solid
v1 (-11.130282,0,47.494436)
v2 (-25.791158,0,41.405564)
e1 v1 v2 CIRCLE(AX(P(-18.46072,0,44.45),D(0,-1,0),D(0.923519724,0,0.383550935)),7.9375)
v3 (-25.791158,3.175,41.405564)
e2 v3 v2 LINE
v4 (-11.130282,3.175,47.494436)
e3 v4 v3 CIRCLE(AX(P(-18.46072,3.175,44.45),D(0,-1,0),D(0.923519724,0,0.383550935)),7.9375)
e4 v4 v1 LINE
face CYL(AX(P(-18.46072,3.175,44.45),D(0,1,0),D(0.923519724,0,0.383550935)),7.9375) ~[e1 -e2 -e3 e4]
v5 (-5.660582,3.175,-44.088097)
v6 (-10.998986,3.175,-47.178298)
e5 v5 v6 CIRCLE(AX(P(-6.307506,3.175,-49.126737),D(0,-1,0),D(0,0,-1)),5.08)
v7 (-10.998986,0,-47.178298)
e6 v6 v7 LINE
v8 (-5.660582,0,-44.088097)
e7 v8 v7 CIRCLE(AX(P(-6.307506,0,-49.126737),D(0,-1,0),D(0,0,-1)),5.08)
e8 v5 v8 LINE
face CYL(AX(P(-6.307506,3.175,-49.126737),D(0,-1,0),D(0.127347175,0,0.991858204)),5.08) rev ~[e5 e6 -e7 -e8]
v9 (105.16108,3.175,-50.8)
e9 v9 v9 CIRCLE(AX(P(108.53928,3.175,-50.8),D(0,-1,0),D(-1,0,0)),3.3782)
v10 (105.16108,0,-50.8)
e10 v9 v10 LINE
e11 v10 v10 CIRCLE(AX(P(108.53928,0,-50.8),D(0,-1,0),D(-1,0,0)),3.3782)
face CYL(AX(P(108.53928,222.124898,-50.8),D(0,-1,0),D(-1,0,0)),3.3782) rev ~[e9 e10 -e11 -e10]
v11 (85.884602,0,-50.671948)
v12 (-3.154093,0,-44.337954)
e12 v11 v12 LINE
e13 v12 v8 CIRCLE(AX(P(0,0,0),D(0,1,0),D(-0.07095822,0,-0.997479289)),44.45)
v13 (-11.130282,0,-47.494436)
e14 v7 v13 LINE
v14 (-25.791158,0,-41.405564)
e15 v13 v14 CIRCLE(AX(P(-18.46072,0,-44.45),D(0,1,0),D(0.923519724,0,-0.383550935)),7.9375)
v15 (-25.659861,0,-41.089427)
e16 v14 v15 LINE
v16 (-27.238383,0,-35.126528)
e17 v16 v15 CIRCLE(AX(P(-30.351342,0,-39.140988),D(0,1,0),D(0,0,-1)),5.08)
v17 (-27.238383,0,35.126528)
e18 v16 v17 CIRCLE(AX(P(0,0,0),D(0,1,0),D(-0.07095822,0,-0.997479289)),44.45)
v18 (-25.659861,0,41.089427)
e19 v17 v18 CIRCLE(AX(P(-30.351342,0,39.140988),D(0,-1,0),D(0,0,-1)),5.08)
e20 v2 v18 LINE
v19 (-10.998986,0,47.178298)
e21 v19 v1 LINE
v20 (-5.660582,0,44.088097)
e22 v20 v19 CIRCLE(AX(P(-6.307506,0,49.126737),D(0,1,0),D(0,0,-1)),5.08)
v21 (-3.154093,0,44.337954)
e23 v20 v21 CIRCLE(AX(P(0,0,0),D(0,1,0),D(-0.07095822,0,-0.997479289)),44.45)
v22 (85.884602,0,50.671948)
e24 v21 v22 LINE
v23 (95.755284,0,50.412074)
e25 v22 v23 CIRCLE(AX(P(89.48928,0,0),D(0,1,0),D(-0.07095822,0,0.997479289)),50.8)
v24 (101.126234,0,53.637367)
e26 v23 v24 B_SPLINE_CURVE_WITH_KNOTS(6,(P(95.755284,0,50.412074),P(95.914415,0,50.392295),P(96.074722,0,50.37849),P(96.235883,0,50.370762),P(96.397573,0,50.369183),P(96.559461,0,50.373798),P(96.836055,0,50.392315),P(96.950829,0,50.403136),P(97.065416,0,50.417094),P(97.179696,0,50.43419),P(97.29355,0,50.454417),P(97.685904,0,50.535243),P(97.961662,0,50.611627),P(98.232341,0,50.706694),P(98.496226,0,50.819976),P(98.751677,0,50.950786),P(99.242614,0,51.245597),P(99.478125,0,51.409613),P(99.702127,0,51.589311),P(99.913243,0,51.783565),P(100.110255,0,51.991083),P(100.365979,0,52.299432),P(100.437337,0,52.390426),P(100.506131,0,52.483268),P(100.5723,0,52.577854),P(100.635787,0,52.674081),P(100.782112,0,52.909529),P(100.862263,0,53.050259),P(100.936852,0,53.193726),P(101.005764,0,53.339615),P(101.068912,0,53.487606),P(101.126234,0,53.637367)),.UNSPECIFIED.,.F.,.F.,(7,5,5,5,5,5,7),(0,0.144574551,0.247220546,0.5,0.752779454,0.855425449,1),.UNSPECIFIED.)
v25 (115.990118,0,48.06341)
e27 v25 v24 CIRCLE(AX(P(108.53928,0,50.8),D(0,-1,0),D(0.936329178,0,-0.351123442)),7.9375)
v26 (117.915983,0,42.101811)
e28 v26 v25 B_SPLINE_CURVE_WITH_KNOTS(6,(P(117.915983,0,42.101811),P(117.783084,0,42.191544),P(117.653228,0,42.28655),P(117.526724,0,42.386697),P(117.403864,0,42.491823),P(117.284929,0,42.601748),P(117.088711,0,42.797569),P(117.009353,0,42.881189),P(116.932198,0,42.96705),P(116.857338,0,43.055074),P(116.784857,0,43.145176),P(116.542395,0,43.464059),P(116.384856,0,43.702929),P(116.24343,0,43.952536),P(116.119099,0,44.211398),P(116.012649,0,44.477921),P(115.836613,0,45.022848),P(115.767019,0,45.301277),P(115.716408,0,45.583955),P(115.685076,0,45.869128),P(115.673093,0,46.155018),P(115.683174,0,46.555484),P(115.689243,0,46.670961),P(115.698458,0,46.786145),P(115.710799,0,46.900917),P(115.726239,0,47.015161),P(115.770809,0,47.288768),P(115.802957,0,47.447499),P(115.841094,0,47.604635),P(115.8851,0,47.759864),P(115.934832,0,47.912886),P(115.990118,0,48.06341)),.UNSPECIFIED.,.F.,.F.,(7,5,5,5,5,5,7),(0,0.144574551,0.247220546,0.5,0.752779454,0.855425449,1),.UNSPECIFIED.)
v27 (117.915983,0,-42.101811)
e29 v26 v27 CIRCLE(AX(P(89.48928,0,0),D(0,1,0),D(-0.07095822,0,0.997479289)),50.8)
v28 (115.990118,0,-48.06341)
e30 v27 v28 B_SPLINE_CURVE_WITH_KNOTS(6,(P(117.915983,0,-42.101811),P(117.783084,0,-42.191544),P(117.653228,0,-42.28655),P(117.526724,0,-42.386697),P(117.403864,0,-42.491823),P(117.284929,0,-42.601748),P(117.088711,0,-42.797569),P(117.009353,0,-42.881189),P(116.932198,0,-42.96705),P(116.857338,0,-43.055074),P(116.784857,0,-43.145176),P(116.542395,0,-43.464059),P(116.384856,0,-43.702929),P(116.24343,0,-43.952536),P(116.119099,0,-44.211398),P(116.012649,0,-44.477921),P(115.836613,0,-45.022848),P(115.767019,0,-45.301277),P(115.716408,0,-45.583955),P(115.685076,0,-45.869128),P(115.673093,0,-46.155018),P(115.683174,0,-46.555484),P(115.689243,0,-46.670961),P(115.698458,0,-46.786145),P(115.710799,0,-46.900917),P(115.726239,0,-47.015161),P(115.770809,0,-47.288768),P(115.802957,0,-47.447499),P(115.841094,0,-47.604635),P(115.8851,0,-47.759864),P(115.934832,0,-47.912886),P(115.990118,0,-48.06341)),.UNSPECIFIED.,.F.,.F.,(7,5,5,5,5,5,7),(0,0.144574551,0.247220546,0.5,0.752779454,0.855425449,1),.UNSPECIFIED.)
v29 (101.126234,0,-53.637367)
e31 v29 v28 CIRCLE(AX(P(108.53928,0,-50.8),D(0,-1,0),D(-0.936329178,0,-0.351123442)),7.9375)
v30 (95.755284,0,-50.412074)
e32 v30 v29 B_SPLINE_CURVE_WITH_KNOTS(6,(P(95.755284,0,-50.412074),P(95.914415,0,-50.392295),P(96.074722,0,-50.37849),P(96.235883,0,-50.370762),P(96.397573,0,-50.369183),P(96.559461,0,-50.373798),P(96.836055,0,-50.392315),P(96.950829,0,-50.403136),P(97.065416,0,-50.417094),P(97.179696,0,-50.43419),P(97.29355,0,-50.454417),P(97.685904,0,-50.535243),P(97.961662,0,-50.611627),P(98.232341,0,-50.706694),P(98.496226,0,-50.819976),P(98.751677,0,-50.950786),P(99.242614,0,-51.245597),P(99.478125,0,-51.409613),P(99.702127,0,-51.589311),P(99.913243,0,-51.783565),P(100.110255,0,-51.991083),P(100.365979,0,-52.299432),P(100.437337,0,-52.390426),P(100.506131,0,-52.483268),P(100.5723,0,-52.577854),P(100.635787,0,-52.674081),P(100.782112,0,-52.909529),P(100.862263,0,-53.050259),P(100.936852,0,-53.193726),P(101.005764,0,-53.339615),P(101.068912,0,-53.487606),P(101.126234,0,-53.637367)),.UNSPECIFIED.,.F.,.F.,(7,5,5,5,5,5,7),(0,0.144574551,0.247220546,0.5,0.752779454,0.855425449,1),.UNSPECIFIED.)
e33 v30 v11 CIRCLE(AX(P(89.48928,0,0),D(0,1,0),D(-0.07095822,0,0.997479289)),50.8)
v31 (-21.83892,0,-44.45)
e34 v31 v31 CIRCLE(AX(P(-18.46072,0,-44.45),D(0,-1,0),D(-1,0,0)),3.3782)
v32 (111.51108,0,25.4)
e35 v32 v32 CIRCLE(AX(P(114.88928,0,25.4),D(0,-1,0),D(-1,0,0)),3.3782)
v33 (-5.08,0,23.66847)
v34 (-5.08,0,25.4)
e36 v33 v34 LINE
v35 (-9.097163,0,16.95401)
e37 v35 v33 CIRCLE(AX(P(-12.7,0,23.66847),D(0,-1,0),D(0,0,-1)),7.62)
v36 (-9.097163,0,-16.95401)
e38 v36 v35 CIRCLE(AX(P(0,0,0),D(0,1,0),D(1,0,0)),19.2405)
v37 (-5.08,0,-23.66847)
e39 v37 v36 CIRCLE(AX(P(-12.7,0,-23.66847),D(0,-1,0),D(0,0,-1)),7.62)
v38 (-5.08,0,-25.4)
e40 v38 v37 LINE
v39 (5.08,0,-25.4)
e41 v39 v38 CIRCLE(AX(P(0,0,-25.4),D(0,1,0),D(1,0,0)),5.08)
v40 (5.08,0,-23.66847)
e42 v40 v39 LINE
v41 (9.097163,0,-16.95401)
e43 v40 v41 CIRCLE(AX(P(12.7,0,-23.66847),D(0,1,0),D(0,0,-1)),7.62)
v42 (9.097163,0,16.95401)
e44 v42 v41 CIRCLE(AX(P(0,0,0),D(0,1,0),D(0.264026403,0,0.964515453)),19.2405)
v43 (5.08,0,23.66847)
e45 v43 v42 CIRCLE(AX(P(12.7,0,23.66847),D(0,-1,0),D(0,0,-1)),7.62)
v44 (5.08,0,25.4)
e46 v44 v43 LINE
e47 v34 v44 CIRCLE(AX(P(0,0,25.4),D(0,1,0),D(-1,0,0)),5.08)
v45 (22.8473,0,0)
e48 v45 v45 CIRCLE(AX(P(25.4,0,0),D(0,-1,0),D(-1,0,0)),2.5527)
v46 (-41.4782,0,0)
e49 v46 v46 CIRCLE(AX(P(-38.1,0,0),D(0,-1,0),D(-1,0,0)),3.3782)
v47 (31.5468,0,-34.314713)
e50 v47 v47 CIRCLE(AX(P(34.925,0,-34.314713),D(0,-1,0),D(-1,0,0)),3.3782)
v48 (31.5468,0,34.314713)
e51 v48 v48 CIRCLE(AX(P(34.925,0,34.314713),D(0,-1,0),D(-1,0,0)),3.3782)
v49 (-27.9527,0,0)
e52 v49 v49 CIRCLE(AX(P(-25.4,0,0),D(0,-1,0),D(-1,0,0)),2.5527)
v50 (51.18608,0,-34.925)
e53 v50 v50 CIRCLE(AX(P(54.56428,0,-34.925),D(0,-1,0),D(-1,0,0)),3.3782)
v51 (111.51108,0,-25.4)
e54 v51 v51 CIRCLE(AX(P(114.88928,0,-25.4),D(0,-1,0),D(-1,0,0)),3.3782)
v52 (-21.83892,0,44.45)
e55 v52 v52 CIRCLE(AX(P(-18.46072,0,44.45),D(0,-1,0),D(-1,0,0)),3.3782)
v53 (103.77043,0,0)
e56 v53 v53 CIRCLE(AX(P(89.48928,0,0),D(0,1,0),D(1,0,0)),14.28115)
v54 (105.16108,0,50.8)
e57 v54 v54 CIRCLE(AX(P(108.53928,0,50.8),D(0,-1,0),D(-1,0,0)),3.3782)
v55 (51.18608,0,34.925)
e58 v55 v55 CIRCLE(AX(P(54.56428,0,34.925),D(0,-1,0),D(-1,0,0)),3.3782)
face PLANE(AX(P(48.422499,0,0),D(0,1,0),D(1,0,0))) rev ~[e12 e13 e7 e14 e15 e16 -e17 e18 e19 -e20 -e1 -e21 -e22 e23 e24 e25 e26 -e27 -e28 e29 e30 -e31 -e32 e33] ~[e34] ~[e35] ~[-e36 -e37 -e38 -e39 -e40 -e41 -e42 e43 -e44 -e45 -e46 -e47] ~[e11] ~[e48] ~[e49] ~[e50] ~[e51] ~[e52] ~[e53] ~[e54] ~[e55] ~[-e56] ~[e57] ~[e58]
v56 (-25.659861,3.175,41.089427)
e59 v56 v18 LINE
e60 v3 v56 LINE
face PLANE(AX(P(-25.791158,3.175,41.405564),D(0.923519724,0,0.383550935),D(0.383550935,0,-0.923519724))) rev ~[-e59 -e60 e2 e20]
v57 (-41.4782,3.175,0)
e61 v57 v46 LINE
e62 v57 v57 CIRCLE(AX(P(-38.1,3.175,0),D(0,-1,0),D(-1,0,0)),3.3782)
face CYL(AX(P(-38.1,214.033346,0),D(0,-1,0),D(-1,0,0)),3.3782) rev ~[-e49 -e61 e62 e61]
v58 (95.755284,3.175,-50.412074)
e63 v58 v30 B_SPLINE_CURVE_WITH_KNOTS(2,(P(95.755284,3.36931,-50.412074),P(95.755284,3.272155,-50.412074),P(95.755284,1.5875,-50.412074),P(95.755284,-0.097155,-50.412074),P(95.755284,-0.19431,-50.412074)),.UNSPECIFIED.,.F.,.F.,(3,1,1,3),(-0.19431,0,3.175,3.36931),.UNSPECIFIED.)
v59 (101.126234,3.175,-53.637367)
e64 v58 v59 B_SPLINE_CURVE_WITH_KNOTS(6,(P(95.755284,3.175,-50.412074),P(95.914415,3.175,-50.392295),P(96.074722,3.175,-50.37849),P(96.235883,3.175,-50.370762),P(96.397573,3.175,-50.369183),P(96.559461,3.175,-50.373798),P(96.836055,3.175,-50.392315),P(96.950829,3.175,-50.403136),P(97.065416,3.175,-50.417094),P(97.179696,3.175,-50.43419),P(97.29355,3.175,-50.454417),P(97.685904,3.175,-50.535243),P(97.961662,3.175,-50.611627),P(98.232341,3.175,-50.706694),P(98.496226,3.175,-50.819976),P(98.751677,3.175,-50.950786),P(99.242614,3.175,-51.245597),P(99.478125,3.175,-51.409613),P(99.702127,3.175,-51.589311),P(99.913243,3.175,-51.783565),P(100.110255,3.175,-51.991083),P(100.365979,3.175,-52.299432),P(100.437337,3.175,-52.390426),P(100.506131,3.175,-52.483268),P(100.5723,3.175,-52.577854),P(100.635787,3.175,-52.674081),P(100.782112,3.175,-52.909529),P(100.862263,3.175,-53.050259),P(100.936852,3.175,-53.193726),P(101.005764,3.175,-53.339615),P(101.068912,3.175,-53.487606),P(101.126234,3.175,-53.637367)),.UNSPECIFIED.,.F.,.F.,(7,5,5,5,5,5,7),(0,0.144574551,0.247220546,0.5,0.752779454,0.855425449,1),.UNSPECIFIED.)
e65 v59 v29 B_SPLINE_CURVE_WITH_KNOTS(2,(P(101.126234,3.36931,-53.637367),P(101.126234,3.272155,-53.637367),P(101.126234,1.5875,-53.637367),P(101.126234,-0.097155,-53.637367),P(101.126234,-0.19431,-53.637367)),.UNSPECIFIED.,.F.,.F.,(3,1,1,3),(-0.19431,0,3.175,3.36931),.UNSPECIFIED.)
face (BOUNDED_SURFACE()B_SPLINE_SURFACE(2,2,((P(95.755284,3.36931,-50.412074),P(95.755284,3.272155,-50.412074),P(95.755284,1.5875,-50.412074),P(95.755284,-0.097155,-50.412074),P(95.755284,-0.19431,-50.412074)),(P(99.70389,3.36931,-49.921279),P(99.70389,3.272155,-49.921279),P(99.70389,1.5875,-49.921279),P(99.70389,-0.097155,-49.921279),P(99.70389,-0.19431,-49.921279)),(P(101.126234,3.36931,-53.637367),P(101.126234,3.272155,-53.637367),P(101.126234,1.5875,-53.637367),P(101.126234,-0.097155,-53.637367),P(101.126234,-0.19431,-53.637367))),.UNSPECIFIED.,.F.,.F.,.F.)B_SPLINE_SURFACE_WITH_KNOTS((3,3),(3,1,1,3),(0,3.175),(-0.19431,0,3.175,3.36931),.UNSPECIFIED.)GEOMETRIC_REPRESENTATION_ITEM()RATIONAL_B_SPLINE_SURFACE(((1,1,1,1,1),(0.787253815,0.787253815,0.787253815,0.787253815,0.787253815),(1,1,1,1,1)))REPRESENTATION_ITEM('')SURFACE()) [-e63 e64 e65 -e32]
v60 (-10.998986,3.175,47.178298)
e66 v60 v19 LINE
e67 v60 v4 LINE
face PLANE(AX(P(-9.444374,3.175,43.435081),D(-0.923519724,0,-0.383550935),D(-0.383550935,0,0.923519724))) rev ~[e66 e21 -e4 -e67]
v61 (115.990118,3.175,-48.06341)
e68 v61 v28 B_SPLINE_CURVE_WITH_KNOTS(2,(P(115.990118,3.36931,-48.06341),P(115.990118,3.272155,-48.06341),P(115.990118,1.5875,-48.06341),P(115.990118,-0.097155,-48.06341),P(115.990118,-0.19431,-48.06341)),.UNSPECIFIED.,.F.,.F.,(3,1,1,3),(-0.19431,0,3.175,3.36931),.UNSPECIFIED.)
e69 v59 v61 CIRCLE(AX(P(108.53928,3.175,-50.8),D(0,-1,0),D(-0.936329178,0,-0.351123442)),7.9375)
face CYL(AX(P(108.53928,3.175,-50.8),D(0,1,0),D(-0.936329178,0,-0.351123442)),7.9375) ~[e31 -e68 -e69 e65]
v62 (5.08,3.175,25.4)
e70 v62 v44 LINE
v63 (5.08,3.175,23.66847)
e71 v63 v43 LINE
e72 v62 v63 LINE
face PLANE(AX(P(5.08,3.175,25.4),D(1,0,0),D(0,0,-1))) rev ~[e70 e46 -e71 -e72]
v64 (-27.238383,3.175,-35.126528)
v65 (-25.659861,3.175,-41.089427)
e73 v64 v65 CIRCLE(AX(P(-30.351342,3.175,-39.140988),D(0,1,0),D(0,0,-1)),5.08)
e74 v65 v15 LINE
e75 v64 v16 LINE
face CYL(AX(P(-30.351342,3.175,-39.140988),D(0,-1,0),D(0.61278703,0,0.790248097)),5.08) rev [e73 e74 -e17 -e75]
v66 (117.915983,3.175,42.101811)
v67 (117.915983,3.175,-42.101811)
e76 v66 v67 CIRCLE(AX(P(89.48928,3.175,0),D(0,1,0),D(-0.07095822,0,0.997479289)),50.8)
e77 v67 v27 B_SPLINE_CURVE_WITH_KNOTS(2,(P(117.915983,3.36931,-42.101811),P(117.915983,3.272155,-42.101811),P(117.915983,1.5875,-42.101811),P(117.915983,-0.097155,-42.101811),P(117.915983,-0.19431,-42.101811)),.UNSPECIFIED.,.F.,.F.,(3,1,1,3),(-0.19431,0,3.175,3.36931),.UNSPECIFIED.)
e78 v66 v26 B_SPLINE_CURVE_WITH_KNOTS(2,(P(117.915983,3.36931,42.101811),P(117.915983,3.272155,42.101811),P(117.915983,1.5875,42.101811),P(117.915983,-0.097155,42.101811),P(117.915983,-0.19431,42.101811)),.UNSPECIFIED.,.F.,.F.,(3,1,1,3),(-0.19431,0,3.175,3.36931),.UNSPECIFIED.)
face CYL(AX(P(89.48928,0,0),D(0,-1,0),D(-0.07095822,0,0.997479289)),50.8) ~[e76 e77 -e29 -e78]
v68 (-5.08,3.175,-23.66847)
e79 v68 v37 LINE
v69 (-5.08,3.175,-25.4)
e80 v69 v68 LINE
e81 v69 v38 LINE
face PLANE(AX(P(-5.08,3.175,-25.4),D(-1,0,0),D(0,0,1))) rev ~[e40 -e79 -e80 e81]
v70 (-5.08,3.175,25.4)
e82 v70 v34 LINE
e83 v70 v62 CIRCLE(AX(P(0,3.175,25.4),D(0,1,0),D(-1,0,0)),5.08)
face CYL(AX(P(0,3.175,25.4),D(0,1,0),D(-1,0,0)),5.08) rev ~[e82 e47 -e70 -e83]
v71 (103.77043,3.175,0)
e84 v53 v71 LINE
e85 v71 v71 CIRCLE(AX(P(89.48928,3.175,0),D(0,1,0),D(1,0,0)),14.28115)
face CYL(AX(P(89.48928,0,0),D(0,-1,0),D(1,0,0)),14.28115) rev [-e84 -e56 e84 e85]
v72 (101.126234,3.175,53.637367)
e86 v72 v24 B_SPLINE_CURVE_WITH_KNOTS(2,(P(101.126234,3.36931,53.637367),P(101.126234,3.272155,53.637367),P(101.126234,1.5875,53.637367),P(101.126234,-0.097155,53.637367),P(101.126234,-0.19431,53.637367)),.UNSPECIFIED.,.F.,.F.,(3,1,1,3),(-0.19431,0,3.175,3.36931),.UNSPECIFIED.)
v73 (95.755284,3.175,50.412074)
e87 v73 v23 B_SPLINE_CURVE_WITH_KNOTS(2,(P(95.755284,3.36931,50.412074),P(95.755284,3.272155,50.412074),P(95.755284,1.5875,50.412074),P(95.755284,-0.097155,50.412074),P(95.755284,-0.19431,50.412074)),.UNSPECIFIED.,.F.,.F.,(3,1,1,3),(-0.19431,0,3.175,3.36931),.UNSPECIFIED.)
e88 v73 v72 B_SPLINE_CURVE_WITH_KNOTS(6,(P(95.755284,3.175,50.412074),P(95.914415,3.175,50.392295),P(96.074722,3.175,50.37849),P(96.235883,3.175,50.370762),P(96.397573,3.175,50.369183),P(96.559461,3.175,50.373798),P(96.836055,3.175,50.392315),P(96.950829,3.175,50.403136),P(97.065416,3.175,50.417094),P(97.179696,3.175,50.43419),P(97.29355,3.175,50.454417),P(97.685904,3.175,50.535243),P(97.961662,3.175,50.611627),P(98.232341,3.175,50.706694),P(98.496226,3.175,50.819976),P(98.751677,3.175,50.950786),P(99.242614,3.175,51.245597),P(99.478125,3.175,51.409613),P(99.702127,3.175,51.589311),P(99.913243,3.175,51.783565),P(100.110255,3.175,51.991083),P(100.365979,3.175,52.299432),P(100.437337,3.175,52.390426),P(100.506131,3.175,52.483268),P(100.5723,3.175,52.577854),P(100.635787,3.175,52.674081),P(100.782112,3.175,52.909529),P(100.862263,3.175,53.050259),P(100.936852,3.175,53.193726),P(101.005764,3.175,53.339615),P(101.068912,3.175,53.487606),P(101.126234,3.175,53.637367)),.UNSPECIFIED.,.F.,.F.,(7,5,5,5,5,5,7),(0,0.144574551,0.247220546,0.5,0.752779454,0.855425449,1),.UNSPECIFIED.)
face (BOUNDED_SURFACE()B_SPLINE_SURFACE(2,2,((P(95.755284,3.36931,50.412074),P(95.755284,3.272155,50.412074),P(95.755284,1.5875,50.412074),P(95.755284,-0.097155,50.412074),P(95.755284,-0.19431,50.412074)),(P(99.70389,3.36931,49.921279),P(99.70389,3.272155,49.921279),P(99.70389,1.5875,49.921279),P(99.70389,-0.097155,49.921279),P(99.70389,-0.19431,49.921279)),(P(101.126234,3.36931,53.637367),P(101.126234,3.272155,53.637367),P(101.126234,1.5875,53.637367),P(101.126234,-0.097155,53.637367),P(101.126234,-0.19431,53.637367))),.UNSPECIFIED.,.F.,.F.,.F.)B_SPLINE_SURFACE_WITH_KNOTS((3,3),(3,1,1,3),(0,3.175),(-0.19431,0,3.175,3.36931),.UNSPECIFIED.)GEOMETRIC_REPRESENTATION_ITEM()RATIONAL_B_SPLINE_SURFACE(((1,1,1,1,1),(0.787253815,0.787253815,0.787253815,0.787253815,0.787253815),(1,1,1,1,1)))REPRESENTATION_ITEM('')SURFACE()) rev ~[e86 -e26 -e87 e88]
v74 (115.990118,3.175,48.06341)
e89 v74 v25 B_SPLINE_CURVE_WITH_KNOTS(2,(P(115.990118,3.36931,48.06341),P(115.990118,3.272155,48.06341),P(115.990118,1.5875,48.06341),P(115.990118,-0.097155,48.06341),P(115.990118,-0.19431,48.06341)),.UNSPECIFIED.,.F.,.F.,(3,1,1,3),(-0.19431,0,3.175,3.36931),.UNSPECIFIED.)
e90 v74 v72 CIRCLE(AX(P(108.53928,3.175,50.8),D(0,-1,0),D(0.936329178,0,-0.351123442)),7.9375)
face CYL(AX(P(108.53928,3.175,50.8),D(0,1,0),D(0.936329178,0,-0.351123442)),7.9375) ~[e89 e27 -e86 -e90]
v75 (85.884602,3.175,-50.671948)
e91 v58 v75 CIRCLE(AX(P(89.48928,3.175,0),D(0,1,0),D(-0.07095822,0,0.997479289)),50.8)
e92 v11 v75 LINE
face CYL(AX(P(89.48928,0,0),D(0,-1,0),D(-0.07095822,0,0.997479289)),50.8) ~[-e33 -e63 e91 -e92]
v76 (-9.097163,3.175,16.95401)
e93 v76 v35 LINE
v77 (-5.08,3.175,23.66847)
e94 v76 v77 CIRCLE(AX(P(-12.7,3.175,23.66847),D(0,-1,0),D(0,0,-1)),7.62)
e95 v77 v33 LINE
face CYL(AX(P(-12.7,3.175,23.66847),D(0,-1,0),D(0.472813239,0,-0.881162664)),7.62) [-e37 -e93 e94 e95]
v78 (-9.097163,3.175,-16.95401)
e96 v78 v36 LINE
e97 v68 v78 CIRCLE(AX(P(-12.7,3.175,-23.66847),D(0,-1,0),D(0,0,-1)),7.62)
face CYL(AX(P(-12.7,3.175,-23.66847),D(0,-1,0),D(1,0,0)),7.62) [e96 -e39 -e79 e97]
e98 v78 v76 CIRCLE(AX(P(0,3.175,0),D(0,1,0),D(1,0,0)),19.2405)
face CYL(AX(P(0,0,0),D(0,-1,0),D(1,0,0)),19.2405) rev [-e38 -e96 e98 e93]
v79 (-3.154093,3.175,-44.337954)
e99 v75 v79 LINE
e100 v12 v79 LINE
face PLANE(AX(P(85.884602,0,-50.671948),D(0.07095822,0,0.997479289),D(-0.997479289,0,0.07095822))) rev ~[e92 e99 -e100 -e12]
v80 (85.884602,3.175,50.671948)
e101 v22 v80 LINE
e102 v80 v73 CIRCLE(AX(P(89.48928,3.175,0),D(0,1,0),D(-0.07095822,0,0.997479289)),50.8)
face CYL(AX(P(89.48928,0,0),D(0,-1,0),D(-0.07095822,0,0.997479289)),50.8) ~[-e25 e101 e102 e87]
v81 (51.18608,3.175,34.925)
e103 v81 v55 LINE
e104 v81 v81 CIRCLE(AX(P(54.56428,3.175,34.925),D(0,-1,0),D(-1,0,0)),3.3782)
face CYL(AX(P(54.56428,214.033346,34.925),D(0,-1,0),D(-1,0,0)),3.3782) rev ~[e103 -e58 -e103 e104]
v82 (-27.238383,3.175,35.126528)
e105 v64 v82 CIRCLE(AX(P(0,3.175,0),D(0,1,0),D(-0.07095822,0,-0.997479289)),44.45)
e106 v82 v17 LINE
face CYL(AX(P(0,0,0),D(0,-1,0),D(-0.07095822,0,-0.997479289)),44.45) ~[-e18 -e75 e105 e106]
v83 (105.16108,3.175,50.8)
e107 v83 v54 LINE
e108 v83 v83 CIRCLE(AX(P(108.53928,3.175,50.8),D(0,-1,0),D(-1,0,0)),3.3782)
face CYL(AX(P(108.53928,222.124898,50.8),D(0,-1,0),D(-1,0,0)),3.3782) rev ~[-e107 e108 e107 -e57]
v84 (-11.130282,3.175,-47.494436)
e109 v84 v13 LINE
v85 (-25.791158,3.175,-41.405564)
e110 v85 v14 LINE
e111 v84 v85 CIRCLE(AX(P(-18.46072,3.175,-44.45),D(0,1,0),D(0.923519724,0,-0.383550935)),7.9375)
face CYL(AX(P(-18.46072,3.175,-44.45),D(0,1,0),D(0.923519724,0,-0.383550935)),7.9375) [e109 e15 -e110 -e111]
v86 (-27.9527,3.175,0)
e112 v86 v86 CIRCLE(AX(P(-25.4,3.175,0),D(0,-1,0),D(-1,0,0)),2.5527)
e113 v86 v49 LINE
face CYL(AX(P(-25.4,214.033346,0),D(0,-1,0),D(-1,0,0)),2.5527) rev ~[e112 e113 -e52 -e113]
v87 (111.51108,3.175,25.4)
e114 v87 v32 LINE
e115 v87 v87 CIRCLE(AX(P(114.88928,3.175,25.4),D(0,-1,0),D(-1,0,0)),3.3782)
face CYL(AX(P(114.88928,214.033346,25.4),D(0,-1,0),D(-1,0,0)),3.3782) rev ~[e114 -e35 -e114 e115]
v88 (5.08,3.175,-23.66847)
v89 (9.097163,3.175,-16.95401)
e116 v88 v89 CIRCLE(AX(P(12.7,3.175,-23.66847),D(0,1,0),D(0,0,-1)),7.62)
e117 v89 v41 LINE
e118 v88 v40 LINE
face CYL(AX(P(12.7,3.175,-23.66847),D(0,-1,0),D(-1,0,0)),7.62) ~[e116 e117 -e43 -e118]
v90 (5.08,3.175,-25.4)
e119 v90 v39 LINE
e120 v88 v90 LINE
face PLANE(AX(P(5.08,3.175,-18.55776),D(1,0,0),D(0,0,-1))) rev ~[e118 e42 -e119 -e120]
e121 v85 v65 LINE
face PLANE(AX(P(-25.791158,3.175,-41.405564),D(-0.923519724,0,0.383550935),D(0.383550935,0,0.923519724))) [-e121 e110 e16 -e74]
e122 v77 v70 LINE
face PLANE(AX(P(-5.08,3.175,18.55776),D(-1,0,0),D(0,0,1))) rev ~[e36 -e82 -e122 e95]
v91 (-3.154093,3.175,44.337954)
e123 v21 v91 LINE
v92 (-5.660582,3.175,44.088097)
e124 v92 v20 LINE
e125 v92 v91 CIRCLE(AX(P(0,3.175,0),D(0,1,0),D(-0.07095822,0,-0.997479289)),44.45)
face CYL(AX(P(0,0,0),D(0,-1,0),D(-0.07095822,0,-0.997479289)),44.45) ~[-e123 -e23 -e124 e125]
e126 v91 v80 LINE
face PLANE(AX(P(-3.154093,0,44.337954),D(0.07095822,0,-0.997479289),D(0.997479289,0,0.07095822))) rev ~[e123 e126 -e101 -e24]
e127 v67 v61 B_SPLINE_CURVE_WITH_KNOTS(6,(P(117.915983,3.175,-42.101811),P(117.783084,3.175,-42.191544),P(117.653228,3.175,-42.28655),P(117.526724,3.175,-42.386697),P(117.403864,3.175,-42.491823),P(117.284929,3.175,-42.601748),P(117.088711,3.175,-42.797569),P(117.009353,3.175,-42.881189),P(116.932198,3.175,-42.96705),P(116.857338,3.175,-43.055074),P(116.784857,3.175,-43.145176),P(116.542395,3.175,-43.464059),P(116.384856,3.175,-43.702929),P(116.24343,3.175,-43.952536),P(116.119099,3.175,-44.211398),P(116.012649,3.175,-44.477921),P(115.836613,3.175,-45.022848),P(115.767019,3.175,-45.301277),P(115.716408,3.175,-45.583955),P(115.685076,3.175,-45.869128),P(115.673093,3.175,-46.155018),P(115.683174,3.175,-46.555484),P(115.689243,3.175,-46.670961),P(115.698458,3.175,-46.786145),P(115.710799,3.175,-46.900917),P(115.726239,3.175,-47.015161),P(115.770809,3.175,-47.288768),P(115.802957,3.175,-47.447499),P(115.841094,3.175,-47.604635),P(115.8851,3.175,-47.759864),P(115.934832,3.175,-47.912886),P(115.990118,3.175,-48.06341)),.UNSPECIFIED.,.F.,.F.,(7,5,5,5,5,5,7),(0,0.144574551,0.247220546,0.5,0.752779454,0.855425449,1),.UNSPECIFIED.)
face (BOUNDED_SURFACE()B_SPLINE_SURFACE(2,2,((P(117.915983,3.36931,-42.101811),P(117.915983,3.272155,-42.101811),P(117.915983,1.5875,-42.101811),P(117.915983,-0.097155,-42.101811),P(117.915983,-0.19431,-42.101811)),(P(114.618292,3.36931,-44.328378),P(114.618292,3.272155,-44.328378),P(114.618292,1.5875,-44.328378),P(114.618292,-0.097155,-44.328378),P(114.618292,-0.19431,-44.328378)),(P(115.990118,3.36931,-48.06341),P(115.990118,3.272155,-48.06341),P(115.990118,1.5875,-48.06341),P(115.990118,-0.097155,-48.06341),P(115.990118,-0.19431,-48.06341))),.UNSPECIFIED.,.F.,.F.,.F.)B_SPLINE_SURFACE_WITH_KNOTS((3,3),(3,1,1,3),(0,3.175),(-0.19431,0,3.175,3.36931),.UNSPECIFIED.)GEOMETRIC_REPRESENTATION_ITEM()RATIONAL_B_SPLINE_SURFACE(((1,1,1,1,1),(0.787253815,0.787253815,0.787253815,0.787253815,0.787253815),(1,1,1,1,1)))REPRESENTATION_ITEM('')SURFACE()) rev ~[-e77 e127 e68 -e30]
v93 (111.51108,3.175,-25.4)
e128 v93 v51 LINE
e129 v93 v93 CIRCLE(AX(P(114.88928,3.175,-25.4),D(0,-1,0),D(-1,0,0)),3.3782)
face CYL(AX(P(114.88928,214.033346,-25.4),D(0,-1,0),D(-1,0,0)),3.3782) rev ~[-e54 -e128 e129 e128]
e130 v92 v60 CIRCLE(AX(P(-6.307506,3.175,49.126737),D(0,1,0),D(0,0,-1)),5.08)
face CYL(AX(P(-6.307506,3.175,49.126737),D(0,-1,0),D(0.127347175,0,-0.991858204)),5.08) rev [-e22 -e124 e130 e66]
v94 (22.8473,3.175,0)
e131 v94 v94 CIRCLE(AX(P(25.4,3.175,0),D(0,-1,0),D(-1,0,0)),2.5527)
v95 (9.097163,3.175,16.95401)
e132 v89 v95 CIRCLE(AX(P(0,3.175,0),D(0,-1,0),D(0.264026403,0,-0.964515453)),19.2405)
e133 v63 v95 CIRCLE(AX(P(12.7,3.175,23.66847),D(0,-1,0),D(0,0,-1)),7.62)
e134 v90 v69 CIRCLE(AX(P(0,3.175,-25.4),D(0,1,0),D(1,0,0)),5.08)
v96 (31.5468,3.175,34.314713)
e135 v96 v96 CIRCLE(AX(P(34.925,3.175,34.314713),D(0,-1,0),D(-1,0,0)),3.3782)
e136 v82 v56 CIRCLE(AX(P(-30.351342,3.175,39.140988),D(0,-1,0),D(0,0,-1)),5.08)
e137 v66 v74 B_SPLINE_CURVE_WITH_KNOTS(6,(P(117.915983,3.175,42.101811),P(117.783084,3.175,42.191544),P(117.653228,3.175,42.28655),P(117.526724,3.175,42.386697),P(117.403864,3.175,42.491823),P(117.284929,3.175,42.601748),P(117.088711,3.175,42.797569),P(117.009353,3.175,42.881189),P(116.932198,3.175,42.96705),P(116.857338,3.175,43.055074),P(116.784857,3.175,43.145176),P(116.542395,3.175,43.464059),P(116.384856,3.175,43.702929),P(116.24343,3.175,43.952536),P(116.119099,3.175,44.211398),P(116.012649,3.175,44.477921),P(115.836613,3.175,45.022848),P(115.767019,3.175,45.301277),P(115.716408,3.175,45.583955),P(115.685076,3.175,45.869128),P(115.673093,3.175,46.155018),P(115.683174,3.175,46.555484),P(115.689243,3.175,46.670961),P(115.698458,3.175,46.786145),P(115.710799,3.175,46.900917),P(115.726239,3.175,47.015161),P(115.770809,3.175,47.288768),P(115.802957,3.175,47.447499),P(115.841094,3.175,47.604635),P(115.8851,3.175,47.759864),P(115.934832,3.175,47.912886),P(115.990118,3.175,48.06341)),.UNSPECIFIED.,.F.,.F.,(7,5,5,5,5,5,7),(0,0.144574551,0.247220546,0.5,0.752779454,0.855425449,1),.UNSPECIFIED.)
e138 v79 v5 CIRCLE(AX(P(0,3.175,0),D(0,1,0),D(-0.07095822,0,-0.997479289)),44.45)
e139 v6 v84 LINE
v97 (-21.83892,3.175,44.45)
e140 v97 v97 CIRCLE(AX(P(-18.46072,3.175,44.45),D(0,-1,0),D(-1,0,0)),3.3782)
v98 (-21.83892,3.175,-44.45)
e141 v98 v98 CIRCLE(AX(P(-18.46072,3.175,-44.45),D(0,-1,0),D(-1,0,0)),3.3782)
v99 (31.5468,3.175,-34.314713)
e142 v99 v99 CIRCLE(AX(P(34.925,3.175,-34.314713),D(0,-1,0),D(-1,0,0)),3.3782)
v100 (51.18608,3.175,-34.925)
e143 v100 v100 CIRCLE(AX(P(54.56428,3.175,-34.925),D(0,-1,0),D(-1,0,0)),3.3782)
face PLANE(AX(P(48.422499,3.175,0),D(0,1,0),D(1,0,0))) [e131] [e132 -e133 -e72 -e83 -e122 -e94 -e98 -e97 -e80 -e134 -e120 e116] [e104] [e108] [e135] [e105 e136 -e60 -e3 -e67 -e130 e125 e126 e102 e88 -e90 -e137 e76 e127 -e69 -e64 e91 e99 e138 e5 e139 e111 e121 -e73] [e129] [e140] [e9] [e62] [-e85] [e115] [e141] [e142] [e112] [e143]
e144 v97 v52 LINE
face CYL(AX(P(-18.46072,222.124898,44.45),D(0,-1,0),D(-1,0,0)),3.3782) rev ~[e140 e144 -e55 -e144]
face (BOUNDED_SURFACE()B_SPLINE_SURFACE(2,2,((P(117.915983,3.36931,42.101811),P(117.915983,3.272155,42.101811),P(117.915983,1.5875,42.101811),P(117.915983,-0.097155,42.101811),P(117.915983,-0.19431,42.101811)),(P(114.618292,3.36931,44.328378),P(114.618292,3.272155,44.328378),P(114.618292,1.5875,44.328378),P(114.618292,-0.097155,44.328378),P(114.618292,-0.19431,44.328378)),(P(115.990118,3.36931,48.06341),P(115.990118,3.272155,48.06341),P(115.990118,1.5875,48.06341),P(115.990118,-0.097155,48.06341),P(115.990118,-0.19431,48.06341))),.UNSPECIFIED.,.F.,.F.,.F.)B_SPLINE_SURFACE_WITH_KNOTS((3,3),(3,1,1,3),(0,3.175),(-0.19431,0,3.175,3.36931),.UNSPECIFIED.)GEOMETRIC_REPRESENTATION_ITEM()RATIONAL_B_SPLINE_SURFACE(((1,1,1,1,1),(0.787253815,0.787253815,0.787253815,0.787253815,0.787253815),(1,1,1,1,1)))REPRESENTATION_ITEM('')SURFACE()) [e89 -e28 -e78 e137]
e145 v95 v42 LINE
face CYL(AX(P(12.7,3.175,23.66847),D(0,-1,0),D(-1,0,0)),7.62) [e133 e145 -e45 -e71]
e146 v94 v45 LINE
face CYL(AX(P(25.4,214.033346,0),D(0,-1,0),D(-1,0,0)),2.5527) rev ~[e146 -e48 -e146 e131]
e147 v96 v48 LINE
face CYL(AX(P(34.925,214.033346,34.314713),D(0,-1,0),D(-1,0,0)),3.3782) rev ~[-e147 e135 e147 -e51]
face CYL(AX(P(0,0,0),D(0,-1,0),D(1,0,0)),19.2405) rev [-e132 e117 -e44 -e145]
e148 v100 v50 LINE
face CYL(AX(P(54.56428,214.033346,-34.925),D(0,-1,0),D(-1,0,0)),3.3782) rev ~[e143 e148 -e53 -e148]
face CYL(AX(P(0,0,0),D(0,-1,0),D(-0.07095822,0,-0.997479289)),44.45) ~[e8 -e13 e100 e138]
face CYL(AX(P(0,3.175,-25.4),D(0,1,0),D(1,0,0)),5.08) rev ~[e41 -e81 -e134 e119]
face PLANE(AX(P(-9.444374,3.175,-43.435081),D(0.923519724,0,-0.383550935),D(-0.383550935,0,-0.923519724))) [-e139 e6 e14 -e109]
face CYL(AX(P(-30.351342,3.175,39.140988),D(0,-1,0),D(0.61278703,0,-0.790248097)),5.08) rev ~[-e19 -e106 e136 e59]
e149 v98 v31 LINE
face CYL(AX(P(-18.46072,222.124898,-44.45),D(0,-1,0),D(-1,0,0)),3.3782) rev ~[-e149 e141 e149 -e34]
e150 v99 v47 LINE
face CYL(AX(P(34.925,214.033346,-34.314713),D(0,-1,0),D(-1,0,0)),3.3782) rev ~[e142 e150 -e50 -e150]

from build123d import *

# Parameters (mm, degrees)
SKETCH1_R               = 14.28115
SKETCH1_R_2             = 19.2405
BOSS_EXTRUDE1_DEPTH     = 3.175
F_10_CLEARANCE_HOLE1_D  = 5.1054
F_1_4_CLEARANCE_HOLE1_D = 6.7564
SKETCH6_R               = 2.5527
CUT_EXTRUDE1_DEPTH      = 4.175
FILLET1_R               = 7.62
BOSS_EXTRUDE3_DEPTH     = 3.175
FILLET2_R               = 5.08
F_1_4_CLEARANCE_HOLE2_D = 6.7564


with BuildPart() as part:
    # Sketch1 → Boss-Extrude1 (new body)
    with BuildSketch(Plane(origin=(0, 0, 0), x_dir=(1, 0, 0), z_dir=(0, 1, 0))):
        with BuildLine():
            Line((85.884602434, 50.671947857), (-3.15409287, 44.337954375))
            ThreePointArc((-3.15409287, 44.337954375), (-44.45, 0), (-3.15409287, -44.337954375))
            Line((-3.15409287, -44.337954375), (85.884602434, -50.671947857))
            ThreePointArc((85.884602434, -50.671947857), (140.28928, 0), (85.884602434, 50.671947857))
        make_face()
        with Locations((89.48928, 0)):
            Circle(SKETCH1_R, mode=Mode.SUBTRACT)
        Circle(SKETCH1_R_2, mode=Mode.SUBTRACT)
    extrude(amount=BOSS_EXTRUDE1_DEPTH)

    # #10 Clearance Hole1 (through all)
    with Locations(Plane(origin=(0, 3.175, 0), x_dir=(1, 0, 0), z_dir=(0, 1, 0))):
        with Locations((0, 25.4), (25.4, 0), (0, -25.4), (-25.4, 0)):
            Hole(F_10_CLEARANCE_HOLE1_D / 2)

    # 1/4 Clearance Hole1 (through all)
    with Locations(Plane(origin=(0, 3.175, 0), x_dir=(1, 0, 0), z_dir=(0, 1, 0))):
        with Locations((54.56428, 34.925), (54.56428, -34.925), (114.88928, 25.4), (114.88928, -25.4), (-38.1, 0), (34.925, -34.314713318), (34.925, 34.314713318)):
            Hole(F_1_4_CLEARANCE_HOLE1_D / 2)

    # Sketch6 → Cut-Extrude1 (cut, through all)
    with BuildSketch(Plane(origin=(0, 3.175, 0), x_dir=(1, 0, 0), z_dir=(0, 1, 0))):
        with BuildLine():
            Line((5.08, 18.55775957), (5.08, 25.4))
            ThreePointArc((5.08, 25.4), (0, 30.48), (-5.08, 25.4))
            Line((-5.08, 25.4), (-5.08, 18.55775957))
            ThreePointArc((-5.08, 18.55775957), (0, 19.2405), (5.08, 18.55775957))
        make_face()
        with Locations((0, 25.4)):
            Circle(SKETCH6_R, mode=Mode.SUBTRACT)
        with BuildLine():
            ThreePointArc((5.08, -18.55775957), (0, -19.2405), (-5.08, -18.55775957))
            Line((-5.08, -18.55775957), (-5.08, -25.4))
            ThreePointArc((-5.08, -25.4), (0, -30.48), (5.08, -25.4))
            Line((5.08, -25.4), (5.08, -18.55775957))
        make_face()
        with Locations((0, -25.4)):
            Circle(SKETCH6_R, mode=Mode.SUBTRACT)
    extrude(amount=-CUT_EXTRUDE1_DEPTH, mode=Mode.SUBTRACT)

    # Fillet1
    fillet1_edges = [part.edges().sort_by_distance(p)[0] for p in [
        (-5.08, 1.5875, 18.55775957),
        (5.08, 1.5875, 18.55775957),
        (5.08, 1.5875, -18.55775957),
        (-5.08, 1.5875, -18.55775957),
    ]]
    fillet(fillet1_edges, radius=FILLET1_R)

    # Sketch8 → Boss-Extrude3 (add)
    with BuildSketch(Plane(origin=(0, 3.175, 0), x_dir=(1, 0, 0), z_dir=(0, 1, 0))):
        with BuildLine():
            Line((114.539380559, -44.194258247), (115.971392847, -48.012957682))
            ThreePointArc((115.971392847, -48.012957682), (111.326322318, -58.232112847), (101.107167153, -53.587042318))
            Line((101.107167153, -53.587042318), (99.675154865, -49.768342882))
            ThreePointArc((99.675154865, -49.768342882), (107.326350833, -47.565522221), (114.539380559, -44.194258247))
        make_face()
        with BuildLine():
            Line((99.675154865, 49.768342882), (101.107167153, 53.587042318))
            ThreePointArc((101.107167153, 53.587042318), (111.326322318, 58.232112847), (115.971392847, 48.012957682))
            Line((115.971392847, 48.012957682), (114.539380559, 44.194258247))
            ThreePointArc((114.539380559, 44.194258247), (107.326350833, 47.565522221), (99.675154865, 49.768342882))
        make_face()
        with BuildLine():
            Line((-9.444374405, -43.435081353), (-11.130282191, -47.494435543))
            ThreePointArc((-11.130282191, -47.494435543), (-21.505155543, -51.780437809), (-25.791157809, -41.405564457))
            Line((-25.791157809, -41.405564457), (-24.105250023, -37.346210267))
            ThreePointArc((-24.105250023, -37.346210267), (-17.048839039, -41.050451732), (-9.444374405, -43.435081353))
        make_face()
        with BuildLine():
            Line((-9.444374405, 43.435081353), (-11.130282191, 47.494435543))
            ThreePointArc((-11.130282191, 47.494435543), (-21.505155543, 51.780437809), (-25.791157809, 41.405564457))
            Line((-25.791157809, 41.405564457), (-24.105250023, 37.346210267))
            ThreePointArc((-24.105250023, 37.346210267), (-17.048839039, 41.050451732), (-9.444374405, 43.435081353))
        make_face()
    extrude(amount=-BOSS_EXTRUDE3_DEPTH)

    # Fillet2
    fillet2_edges = [part.edges().sort_by_distance(p)[0] for p in [
        (99.675154865, 1.5875, -49.768342882),
        (114.539380559, 1.5875, -44.194258247),
        (-9.444374405, 1.5875, -43.435081353),
        (-24.105250023, 1.5875, -37.346210267),
        (-24.105250023, 1.5875, 37.346210267),
        (-9.444374405, 1.5875, 43.435081353),
        (114.539380559, 1.5875, 44.194258247),
        (99.675154865, 1.5875, 49.768342882),
    ]]
    fillet(fillet2_edges, radius=FILLET2_R)

    # 1/4 Clearance Hole2 (through all)
    with Locations(Plane(origin=(0, 3.175, 0), x_dir=(1, 0, 0), z_dir=(0, 1, 0))):
        with Locations((108.53928, -50.8), (-18.46072, -44.45), (-18.46072, 44.45), (108.53928, 50.8)):
            Hole(F_1_4_CLEARANCE_HOLE2_D / 2)


solid = part.part
